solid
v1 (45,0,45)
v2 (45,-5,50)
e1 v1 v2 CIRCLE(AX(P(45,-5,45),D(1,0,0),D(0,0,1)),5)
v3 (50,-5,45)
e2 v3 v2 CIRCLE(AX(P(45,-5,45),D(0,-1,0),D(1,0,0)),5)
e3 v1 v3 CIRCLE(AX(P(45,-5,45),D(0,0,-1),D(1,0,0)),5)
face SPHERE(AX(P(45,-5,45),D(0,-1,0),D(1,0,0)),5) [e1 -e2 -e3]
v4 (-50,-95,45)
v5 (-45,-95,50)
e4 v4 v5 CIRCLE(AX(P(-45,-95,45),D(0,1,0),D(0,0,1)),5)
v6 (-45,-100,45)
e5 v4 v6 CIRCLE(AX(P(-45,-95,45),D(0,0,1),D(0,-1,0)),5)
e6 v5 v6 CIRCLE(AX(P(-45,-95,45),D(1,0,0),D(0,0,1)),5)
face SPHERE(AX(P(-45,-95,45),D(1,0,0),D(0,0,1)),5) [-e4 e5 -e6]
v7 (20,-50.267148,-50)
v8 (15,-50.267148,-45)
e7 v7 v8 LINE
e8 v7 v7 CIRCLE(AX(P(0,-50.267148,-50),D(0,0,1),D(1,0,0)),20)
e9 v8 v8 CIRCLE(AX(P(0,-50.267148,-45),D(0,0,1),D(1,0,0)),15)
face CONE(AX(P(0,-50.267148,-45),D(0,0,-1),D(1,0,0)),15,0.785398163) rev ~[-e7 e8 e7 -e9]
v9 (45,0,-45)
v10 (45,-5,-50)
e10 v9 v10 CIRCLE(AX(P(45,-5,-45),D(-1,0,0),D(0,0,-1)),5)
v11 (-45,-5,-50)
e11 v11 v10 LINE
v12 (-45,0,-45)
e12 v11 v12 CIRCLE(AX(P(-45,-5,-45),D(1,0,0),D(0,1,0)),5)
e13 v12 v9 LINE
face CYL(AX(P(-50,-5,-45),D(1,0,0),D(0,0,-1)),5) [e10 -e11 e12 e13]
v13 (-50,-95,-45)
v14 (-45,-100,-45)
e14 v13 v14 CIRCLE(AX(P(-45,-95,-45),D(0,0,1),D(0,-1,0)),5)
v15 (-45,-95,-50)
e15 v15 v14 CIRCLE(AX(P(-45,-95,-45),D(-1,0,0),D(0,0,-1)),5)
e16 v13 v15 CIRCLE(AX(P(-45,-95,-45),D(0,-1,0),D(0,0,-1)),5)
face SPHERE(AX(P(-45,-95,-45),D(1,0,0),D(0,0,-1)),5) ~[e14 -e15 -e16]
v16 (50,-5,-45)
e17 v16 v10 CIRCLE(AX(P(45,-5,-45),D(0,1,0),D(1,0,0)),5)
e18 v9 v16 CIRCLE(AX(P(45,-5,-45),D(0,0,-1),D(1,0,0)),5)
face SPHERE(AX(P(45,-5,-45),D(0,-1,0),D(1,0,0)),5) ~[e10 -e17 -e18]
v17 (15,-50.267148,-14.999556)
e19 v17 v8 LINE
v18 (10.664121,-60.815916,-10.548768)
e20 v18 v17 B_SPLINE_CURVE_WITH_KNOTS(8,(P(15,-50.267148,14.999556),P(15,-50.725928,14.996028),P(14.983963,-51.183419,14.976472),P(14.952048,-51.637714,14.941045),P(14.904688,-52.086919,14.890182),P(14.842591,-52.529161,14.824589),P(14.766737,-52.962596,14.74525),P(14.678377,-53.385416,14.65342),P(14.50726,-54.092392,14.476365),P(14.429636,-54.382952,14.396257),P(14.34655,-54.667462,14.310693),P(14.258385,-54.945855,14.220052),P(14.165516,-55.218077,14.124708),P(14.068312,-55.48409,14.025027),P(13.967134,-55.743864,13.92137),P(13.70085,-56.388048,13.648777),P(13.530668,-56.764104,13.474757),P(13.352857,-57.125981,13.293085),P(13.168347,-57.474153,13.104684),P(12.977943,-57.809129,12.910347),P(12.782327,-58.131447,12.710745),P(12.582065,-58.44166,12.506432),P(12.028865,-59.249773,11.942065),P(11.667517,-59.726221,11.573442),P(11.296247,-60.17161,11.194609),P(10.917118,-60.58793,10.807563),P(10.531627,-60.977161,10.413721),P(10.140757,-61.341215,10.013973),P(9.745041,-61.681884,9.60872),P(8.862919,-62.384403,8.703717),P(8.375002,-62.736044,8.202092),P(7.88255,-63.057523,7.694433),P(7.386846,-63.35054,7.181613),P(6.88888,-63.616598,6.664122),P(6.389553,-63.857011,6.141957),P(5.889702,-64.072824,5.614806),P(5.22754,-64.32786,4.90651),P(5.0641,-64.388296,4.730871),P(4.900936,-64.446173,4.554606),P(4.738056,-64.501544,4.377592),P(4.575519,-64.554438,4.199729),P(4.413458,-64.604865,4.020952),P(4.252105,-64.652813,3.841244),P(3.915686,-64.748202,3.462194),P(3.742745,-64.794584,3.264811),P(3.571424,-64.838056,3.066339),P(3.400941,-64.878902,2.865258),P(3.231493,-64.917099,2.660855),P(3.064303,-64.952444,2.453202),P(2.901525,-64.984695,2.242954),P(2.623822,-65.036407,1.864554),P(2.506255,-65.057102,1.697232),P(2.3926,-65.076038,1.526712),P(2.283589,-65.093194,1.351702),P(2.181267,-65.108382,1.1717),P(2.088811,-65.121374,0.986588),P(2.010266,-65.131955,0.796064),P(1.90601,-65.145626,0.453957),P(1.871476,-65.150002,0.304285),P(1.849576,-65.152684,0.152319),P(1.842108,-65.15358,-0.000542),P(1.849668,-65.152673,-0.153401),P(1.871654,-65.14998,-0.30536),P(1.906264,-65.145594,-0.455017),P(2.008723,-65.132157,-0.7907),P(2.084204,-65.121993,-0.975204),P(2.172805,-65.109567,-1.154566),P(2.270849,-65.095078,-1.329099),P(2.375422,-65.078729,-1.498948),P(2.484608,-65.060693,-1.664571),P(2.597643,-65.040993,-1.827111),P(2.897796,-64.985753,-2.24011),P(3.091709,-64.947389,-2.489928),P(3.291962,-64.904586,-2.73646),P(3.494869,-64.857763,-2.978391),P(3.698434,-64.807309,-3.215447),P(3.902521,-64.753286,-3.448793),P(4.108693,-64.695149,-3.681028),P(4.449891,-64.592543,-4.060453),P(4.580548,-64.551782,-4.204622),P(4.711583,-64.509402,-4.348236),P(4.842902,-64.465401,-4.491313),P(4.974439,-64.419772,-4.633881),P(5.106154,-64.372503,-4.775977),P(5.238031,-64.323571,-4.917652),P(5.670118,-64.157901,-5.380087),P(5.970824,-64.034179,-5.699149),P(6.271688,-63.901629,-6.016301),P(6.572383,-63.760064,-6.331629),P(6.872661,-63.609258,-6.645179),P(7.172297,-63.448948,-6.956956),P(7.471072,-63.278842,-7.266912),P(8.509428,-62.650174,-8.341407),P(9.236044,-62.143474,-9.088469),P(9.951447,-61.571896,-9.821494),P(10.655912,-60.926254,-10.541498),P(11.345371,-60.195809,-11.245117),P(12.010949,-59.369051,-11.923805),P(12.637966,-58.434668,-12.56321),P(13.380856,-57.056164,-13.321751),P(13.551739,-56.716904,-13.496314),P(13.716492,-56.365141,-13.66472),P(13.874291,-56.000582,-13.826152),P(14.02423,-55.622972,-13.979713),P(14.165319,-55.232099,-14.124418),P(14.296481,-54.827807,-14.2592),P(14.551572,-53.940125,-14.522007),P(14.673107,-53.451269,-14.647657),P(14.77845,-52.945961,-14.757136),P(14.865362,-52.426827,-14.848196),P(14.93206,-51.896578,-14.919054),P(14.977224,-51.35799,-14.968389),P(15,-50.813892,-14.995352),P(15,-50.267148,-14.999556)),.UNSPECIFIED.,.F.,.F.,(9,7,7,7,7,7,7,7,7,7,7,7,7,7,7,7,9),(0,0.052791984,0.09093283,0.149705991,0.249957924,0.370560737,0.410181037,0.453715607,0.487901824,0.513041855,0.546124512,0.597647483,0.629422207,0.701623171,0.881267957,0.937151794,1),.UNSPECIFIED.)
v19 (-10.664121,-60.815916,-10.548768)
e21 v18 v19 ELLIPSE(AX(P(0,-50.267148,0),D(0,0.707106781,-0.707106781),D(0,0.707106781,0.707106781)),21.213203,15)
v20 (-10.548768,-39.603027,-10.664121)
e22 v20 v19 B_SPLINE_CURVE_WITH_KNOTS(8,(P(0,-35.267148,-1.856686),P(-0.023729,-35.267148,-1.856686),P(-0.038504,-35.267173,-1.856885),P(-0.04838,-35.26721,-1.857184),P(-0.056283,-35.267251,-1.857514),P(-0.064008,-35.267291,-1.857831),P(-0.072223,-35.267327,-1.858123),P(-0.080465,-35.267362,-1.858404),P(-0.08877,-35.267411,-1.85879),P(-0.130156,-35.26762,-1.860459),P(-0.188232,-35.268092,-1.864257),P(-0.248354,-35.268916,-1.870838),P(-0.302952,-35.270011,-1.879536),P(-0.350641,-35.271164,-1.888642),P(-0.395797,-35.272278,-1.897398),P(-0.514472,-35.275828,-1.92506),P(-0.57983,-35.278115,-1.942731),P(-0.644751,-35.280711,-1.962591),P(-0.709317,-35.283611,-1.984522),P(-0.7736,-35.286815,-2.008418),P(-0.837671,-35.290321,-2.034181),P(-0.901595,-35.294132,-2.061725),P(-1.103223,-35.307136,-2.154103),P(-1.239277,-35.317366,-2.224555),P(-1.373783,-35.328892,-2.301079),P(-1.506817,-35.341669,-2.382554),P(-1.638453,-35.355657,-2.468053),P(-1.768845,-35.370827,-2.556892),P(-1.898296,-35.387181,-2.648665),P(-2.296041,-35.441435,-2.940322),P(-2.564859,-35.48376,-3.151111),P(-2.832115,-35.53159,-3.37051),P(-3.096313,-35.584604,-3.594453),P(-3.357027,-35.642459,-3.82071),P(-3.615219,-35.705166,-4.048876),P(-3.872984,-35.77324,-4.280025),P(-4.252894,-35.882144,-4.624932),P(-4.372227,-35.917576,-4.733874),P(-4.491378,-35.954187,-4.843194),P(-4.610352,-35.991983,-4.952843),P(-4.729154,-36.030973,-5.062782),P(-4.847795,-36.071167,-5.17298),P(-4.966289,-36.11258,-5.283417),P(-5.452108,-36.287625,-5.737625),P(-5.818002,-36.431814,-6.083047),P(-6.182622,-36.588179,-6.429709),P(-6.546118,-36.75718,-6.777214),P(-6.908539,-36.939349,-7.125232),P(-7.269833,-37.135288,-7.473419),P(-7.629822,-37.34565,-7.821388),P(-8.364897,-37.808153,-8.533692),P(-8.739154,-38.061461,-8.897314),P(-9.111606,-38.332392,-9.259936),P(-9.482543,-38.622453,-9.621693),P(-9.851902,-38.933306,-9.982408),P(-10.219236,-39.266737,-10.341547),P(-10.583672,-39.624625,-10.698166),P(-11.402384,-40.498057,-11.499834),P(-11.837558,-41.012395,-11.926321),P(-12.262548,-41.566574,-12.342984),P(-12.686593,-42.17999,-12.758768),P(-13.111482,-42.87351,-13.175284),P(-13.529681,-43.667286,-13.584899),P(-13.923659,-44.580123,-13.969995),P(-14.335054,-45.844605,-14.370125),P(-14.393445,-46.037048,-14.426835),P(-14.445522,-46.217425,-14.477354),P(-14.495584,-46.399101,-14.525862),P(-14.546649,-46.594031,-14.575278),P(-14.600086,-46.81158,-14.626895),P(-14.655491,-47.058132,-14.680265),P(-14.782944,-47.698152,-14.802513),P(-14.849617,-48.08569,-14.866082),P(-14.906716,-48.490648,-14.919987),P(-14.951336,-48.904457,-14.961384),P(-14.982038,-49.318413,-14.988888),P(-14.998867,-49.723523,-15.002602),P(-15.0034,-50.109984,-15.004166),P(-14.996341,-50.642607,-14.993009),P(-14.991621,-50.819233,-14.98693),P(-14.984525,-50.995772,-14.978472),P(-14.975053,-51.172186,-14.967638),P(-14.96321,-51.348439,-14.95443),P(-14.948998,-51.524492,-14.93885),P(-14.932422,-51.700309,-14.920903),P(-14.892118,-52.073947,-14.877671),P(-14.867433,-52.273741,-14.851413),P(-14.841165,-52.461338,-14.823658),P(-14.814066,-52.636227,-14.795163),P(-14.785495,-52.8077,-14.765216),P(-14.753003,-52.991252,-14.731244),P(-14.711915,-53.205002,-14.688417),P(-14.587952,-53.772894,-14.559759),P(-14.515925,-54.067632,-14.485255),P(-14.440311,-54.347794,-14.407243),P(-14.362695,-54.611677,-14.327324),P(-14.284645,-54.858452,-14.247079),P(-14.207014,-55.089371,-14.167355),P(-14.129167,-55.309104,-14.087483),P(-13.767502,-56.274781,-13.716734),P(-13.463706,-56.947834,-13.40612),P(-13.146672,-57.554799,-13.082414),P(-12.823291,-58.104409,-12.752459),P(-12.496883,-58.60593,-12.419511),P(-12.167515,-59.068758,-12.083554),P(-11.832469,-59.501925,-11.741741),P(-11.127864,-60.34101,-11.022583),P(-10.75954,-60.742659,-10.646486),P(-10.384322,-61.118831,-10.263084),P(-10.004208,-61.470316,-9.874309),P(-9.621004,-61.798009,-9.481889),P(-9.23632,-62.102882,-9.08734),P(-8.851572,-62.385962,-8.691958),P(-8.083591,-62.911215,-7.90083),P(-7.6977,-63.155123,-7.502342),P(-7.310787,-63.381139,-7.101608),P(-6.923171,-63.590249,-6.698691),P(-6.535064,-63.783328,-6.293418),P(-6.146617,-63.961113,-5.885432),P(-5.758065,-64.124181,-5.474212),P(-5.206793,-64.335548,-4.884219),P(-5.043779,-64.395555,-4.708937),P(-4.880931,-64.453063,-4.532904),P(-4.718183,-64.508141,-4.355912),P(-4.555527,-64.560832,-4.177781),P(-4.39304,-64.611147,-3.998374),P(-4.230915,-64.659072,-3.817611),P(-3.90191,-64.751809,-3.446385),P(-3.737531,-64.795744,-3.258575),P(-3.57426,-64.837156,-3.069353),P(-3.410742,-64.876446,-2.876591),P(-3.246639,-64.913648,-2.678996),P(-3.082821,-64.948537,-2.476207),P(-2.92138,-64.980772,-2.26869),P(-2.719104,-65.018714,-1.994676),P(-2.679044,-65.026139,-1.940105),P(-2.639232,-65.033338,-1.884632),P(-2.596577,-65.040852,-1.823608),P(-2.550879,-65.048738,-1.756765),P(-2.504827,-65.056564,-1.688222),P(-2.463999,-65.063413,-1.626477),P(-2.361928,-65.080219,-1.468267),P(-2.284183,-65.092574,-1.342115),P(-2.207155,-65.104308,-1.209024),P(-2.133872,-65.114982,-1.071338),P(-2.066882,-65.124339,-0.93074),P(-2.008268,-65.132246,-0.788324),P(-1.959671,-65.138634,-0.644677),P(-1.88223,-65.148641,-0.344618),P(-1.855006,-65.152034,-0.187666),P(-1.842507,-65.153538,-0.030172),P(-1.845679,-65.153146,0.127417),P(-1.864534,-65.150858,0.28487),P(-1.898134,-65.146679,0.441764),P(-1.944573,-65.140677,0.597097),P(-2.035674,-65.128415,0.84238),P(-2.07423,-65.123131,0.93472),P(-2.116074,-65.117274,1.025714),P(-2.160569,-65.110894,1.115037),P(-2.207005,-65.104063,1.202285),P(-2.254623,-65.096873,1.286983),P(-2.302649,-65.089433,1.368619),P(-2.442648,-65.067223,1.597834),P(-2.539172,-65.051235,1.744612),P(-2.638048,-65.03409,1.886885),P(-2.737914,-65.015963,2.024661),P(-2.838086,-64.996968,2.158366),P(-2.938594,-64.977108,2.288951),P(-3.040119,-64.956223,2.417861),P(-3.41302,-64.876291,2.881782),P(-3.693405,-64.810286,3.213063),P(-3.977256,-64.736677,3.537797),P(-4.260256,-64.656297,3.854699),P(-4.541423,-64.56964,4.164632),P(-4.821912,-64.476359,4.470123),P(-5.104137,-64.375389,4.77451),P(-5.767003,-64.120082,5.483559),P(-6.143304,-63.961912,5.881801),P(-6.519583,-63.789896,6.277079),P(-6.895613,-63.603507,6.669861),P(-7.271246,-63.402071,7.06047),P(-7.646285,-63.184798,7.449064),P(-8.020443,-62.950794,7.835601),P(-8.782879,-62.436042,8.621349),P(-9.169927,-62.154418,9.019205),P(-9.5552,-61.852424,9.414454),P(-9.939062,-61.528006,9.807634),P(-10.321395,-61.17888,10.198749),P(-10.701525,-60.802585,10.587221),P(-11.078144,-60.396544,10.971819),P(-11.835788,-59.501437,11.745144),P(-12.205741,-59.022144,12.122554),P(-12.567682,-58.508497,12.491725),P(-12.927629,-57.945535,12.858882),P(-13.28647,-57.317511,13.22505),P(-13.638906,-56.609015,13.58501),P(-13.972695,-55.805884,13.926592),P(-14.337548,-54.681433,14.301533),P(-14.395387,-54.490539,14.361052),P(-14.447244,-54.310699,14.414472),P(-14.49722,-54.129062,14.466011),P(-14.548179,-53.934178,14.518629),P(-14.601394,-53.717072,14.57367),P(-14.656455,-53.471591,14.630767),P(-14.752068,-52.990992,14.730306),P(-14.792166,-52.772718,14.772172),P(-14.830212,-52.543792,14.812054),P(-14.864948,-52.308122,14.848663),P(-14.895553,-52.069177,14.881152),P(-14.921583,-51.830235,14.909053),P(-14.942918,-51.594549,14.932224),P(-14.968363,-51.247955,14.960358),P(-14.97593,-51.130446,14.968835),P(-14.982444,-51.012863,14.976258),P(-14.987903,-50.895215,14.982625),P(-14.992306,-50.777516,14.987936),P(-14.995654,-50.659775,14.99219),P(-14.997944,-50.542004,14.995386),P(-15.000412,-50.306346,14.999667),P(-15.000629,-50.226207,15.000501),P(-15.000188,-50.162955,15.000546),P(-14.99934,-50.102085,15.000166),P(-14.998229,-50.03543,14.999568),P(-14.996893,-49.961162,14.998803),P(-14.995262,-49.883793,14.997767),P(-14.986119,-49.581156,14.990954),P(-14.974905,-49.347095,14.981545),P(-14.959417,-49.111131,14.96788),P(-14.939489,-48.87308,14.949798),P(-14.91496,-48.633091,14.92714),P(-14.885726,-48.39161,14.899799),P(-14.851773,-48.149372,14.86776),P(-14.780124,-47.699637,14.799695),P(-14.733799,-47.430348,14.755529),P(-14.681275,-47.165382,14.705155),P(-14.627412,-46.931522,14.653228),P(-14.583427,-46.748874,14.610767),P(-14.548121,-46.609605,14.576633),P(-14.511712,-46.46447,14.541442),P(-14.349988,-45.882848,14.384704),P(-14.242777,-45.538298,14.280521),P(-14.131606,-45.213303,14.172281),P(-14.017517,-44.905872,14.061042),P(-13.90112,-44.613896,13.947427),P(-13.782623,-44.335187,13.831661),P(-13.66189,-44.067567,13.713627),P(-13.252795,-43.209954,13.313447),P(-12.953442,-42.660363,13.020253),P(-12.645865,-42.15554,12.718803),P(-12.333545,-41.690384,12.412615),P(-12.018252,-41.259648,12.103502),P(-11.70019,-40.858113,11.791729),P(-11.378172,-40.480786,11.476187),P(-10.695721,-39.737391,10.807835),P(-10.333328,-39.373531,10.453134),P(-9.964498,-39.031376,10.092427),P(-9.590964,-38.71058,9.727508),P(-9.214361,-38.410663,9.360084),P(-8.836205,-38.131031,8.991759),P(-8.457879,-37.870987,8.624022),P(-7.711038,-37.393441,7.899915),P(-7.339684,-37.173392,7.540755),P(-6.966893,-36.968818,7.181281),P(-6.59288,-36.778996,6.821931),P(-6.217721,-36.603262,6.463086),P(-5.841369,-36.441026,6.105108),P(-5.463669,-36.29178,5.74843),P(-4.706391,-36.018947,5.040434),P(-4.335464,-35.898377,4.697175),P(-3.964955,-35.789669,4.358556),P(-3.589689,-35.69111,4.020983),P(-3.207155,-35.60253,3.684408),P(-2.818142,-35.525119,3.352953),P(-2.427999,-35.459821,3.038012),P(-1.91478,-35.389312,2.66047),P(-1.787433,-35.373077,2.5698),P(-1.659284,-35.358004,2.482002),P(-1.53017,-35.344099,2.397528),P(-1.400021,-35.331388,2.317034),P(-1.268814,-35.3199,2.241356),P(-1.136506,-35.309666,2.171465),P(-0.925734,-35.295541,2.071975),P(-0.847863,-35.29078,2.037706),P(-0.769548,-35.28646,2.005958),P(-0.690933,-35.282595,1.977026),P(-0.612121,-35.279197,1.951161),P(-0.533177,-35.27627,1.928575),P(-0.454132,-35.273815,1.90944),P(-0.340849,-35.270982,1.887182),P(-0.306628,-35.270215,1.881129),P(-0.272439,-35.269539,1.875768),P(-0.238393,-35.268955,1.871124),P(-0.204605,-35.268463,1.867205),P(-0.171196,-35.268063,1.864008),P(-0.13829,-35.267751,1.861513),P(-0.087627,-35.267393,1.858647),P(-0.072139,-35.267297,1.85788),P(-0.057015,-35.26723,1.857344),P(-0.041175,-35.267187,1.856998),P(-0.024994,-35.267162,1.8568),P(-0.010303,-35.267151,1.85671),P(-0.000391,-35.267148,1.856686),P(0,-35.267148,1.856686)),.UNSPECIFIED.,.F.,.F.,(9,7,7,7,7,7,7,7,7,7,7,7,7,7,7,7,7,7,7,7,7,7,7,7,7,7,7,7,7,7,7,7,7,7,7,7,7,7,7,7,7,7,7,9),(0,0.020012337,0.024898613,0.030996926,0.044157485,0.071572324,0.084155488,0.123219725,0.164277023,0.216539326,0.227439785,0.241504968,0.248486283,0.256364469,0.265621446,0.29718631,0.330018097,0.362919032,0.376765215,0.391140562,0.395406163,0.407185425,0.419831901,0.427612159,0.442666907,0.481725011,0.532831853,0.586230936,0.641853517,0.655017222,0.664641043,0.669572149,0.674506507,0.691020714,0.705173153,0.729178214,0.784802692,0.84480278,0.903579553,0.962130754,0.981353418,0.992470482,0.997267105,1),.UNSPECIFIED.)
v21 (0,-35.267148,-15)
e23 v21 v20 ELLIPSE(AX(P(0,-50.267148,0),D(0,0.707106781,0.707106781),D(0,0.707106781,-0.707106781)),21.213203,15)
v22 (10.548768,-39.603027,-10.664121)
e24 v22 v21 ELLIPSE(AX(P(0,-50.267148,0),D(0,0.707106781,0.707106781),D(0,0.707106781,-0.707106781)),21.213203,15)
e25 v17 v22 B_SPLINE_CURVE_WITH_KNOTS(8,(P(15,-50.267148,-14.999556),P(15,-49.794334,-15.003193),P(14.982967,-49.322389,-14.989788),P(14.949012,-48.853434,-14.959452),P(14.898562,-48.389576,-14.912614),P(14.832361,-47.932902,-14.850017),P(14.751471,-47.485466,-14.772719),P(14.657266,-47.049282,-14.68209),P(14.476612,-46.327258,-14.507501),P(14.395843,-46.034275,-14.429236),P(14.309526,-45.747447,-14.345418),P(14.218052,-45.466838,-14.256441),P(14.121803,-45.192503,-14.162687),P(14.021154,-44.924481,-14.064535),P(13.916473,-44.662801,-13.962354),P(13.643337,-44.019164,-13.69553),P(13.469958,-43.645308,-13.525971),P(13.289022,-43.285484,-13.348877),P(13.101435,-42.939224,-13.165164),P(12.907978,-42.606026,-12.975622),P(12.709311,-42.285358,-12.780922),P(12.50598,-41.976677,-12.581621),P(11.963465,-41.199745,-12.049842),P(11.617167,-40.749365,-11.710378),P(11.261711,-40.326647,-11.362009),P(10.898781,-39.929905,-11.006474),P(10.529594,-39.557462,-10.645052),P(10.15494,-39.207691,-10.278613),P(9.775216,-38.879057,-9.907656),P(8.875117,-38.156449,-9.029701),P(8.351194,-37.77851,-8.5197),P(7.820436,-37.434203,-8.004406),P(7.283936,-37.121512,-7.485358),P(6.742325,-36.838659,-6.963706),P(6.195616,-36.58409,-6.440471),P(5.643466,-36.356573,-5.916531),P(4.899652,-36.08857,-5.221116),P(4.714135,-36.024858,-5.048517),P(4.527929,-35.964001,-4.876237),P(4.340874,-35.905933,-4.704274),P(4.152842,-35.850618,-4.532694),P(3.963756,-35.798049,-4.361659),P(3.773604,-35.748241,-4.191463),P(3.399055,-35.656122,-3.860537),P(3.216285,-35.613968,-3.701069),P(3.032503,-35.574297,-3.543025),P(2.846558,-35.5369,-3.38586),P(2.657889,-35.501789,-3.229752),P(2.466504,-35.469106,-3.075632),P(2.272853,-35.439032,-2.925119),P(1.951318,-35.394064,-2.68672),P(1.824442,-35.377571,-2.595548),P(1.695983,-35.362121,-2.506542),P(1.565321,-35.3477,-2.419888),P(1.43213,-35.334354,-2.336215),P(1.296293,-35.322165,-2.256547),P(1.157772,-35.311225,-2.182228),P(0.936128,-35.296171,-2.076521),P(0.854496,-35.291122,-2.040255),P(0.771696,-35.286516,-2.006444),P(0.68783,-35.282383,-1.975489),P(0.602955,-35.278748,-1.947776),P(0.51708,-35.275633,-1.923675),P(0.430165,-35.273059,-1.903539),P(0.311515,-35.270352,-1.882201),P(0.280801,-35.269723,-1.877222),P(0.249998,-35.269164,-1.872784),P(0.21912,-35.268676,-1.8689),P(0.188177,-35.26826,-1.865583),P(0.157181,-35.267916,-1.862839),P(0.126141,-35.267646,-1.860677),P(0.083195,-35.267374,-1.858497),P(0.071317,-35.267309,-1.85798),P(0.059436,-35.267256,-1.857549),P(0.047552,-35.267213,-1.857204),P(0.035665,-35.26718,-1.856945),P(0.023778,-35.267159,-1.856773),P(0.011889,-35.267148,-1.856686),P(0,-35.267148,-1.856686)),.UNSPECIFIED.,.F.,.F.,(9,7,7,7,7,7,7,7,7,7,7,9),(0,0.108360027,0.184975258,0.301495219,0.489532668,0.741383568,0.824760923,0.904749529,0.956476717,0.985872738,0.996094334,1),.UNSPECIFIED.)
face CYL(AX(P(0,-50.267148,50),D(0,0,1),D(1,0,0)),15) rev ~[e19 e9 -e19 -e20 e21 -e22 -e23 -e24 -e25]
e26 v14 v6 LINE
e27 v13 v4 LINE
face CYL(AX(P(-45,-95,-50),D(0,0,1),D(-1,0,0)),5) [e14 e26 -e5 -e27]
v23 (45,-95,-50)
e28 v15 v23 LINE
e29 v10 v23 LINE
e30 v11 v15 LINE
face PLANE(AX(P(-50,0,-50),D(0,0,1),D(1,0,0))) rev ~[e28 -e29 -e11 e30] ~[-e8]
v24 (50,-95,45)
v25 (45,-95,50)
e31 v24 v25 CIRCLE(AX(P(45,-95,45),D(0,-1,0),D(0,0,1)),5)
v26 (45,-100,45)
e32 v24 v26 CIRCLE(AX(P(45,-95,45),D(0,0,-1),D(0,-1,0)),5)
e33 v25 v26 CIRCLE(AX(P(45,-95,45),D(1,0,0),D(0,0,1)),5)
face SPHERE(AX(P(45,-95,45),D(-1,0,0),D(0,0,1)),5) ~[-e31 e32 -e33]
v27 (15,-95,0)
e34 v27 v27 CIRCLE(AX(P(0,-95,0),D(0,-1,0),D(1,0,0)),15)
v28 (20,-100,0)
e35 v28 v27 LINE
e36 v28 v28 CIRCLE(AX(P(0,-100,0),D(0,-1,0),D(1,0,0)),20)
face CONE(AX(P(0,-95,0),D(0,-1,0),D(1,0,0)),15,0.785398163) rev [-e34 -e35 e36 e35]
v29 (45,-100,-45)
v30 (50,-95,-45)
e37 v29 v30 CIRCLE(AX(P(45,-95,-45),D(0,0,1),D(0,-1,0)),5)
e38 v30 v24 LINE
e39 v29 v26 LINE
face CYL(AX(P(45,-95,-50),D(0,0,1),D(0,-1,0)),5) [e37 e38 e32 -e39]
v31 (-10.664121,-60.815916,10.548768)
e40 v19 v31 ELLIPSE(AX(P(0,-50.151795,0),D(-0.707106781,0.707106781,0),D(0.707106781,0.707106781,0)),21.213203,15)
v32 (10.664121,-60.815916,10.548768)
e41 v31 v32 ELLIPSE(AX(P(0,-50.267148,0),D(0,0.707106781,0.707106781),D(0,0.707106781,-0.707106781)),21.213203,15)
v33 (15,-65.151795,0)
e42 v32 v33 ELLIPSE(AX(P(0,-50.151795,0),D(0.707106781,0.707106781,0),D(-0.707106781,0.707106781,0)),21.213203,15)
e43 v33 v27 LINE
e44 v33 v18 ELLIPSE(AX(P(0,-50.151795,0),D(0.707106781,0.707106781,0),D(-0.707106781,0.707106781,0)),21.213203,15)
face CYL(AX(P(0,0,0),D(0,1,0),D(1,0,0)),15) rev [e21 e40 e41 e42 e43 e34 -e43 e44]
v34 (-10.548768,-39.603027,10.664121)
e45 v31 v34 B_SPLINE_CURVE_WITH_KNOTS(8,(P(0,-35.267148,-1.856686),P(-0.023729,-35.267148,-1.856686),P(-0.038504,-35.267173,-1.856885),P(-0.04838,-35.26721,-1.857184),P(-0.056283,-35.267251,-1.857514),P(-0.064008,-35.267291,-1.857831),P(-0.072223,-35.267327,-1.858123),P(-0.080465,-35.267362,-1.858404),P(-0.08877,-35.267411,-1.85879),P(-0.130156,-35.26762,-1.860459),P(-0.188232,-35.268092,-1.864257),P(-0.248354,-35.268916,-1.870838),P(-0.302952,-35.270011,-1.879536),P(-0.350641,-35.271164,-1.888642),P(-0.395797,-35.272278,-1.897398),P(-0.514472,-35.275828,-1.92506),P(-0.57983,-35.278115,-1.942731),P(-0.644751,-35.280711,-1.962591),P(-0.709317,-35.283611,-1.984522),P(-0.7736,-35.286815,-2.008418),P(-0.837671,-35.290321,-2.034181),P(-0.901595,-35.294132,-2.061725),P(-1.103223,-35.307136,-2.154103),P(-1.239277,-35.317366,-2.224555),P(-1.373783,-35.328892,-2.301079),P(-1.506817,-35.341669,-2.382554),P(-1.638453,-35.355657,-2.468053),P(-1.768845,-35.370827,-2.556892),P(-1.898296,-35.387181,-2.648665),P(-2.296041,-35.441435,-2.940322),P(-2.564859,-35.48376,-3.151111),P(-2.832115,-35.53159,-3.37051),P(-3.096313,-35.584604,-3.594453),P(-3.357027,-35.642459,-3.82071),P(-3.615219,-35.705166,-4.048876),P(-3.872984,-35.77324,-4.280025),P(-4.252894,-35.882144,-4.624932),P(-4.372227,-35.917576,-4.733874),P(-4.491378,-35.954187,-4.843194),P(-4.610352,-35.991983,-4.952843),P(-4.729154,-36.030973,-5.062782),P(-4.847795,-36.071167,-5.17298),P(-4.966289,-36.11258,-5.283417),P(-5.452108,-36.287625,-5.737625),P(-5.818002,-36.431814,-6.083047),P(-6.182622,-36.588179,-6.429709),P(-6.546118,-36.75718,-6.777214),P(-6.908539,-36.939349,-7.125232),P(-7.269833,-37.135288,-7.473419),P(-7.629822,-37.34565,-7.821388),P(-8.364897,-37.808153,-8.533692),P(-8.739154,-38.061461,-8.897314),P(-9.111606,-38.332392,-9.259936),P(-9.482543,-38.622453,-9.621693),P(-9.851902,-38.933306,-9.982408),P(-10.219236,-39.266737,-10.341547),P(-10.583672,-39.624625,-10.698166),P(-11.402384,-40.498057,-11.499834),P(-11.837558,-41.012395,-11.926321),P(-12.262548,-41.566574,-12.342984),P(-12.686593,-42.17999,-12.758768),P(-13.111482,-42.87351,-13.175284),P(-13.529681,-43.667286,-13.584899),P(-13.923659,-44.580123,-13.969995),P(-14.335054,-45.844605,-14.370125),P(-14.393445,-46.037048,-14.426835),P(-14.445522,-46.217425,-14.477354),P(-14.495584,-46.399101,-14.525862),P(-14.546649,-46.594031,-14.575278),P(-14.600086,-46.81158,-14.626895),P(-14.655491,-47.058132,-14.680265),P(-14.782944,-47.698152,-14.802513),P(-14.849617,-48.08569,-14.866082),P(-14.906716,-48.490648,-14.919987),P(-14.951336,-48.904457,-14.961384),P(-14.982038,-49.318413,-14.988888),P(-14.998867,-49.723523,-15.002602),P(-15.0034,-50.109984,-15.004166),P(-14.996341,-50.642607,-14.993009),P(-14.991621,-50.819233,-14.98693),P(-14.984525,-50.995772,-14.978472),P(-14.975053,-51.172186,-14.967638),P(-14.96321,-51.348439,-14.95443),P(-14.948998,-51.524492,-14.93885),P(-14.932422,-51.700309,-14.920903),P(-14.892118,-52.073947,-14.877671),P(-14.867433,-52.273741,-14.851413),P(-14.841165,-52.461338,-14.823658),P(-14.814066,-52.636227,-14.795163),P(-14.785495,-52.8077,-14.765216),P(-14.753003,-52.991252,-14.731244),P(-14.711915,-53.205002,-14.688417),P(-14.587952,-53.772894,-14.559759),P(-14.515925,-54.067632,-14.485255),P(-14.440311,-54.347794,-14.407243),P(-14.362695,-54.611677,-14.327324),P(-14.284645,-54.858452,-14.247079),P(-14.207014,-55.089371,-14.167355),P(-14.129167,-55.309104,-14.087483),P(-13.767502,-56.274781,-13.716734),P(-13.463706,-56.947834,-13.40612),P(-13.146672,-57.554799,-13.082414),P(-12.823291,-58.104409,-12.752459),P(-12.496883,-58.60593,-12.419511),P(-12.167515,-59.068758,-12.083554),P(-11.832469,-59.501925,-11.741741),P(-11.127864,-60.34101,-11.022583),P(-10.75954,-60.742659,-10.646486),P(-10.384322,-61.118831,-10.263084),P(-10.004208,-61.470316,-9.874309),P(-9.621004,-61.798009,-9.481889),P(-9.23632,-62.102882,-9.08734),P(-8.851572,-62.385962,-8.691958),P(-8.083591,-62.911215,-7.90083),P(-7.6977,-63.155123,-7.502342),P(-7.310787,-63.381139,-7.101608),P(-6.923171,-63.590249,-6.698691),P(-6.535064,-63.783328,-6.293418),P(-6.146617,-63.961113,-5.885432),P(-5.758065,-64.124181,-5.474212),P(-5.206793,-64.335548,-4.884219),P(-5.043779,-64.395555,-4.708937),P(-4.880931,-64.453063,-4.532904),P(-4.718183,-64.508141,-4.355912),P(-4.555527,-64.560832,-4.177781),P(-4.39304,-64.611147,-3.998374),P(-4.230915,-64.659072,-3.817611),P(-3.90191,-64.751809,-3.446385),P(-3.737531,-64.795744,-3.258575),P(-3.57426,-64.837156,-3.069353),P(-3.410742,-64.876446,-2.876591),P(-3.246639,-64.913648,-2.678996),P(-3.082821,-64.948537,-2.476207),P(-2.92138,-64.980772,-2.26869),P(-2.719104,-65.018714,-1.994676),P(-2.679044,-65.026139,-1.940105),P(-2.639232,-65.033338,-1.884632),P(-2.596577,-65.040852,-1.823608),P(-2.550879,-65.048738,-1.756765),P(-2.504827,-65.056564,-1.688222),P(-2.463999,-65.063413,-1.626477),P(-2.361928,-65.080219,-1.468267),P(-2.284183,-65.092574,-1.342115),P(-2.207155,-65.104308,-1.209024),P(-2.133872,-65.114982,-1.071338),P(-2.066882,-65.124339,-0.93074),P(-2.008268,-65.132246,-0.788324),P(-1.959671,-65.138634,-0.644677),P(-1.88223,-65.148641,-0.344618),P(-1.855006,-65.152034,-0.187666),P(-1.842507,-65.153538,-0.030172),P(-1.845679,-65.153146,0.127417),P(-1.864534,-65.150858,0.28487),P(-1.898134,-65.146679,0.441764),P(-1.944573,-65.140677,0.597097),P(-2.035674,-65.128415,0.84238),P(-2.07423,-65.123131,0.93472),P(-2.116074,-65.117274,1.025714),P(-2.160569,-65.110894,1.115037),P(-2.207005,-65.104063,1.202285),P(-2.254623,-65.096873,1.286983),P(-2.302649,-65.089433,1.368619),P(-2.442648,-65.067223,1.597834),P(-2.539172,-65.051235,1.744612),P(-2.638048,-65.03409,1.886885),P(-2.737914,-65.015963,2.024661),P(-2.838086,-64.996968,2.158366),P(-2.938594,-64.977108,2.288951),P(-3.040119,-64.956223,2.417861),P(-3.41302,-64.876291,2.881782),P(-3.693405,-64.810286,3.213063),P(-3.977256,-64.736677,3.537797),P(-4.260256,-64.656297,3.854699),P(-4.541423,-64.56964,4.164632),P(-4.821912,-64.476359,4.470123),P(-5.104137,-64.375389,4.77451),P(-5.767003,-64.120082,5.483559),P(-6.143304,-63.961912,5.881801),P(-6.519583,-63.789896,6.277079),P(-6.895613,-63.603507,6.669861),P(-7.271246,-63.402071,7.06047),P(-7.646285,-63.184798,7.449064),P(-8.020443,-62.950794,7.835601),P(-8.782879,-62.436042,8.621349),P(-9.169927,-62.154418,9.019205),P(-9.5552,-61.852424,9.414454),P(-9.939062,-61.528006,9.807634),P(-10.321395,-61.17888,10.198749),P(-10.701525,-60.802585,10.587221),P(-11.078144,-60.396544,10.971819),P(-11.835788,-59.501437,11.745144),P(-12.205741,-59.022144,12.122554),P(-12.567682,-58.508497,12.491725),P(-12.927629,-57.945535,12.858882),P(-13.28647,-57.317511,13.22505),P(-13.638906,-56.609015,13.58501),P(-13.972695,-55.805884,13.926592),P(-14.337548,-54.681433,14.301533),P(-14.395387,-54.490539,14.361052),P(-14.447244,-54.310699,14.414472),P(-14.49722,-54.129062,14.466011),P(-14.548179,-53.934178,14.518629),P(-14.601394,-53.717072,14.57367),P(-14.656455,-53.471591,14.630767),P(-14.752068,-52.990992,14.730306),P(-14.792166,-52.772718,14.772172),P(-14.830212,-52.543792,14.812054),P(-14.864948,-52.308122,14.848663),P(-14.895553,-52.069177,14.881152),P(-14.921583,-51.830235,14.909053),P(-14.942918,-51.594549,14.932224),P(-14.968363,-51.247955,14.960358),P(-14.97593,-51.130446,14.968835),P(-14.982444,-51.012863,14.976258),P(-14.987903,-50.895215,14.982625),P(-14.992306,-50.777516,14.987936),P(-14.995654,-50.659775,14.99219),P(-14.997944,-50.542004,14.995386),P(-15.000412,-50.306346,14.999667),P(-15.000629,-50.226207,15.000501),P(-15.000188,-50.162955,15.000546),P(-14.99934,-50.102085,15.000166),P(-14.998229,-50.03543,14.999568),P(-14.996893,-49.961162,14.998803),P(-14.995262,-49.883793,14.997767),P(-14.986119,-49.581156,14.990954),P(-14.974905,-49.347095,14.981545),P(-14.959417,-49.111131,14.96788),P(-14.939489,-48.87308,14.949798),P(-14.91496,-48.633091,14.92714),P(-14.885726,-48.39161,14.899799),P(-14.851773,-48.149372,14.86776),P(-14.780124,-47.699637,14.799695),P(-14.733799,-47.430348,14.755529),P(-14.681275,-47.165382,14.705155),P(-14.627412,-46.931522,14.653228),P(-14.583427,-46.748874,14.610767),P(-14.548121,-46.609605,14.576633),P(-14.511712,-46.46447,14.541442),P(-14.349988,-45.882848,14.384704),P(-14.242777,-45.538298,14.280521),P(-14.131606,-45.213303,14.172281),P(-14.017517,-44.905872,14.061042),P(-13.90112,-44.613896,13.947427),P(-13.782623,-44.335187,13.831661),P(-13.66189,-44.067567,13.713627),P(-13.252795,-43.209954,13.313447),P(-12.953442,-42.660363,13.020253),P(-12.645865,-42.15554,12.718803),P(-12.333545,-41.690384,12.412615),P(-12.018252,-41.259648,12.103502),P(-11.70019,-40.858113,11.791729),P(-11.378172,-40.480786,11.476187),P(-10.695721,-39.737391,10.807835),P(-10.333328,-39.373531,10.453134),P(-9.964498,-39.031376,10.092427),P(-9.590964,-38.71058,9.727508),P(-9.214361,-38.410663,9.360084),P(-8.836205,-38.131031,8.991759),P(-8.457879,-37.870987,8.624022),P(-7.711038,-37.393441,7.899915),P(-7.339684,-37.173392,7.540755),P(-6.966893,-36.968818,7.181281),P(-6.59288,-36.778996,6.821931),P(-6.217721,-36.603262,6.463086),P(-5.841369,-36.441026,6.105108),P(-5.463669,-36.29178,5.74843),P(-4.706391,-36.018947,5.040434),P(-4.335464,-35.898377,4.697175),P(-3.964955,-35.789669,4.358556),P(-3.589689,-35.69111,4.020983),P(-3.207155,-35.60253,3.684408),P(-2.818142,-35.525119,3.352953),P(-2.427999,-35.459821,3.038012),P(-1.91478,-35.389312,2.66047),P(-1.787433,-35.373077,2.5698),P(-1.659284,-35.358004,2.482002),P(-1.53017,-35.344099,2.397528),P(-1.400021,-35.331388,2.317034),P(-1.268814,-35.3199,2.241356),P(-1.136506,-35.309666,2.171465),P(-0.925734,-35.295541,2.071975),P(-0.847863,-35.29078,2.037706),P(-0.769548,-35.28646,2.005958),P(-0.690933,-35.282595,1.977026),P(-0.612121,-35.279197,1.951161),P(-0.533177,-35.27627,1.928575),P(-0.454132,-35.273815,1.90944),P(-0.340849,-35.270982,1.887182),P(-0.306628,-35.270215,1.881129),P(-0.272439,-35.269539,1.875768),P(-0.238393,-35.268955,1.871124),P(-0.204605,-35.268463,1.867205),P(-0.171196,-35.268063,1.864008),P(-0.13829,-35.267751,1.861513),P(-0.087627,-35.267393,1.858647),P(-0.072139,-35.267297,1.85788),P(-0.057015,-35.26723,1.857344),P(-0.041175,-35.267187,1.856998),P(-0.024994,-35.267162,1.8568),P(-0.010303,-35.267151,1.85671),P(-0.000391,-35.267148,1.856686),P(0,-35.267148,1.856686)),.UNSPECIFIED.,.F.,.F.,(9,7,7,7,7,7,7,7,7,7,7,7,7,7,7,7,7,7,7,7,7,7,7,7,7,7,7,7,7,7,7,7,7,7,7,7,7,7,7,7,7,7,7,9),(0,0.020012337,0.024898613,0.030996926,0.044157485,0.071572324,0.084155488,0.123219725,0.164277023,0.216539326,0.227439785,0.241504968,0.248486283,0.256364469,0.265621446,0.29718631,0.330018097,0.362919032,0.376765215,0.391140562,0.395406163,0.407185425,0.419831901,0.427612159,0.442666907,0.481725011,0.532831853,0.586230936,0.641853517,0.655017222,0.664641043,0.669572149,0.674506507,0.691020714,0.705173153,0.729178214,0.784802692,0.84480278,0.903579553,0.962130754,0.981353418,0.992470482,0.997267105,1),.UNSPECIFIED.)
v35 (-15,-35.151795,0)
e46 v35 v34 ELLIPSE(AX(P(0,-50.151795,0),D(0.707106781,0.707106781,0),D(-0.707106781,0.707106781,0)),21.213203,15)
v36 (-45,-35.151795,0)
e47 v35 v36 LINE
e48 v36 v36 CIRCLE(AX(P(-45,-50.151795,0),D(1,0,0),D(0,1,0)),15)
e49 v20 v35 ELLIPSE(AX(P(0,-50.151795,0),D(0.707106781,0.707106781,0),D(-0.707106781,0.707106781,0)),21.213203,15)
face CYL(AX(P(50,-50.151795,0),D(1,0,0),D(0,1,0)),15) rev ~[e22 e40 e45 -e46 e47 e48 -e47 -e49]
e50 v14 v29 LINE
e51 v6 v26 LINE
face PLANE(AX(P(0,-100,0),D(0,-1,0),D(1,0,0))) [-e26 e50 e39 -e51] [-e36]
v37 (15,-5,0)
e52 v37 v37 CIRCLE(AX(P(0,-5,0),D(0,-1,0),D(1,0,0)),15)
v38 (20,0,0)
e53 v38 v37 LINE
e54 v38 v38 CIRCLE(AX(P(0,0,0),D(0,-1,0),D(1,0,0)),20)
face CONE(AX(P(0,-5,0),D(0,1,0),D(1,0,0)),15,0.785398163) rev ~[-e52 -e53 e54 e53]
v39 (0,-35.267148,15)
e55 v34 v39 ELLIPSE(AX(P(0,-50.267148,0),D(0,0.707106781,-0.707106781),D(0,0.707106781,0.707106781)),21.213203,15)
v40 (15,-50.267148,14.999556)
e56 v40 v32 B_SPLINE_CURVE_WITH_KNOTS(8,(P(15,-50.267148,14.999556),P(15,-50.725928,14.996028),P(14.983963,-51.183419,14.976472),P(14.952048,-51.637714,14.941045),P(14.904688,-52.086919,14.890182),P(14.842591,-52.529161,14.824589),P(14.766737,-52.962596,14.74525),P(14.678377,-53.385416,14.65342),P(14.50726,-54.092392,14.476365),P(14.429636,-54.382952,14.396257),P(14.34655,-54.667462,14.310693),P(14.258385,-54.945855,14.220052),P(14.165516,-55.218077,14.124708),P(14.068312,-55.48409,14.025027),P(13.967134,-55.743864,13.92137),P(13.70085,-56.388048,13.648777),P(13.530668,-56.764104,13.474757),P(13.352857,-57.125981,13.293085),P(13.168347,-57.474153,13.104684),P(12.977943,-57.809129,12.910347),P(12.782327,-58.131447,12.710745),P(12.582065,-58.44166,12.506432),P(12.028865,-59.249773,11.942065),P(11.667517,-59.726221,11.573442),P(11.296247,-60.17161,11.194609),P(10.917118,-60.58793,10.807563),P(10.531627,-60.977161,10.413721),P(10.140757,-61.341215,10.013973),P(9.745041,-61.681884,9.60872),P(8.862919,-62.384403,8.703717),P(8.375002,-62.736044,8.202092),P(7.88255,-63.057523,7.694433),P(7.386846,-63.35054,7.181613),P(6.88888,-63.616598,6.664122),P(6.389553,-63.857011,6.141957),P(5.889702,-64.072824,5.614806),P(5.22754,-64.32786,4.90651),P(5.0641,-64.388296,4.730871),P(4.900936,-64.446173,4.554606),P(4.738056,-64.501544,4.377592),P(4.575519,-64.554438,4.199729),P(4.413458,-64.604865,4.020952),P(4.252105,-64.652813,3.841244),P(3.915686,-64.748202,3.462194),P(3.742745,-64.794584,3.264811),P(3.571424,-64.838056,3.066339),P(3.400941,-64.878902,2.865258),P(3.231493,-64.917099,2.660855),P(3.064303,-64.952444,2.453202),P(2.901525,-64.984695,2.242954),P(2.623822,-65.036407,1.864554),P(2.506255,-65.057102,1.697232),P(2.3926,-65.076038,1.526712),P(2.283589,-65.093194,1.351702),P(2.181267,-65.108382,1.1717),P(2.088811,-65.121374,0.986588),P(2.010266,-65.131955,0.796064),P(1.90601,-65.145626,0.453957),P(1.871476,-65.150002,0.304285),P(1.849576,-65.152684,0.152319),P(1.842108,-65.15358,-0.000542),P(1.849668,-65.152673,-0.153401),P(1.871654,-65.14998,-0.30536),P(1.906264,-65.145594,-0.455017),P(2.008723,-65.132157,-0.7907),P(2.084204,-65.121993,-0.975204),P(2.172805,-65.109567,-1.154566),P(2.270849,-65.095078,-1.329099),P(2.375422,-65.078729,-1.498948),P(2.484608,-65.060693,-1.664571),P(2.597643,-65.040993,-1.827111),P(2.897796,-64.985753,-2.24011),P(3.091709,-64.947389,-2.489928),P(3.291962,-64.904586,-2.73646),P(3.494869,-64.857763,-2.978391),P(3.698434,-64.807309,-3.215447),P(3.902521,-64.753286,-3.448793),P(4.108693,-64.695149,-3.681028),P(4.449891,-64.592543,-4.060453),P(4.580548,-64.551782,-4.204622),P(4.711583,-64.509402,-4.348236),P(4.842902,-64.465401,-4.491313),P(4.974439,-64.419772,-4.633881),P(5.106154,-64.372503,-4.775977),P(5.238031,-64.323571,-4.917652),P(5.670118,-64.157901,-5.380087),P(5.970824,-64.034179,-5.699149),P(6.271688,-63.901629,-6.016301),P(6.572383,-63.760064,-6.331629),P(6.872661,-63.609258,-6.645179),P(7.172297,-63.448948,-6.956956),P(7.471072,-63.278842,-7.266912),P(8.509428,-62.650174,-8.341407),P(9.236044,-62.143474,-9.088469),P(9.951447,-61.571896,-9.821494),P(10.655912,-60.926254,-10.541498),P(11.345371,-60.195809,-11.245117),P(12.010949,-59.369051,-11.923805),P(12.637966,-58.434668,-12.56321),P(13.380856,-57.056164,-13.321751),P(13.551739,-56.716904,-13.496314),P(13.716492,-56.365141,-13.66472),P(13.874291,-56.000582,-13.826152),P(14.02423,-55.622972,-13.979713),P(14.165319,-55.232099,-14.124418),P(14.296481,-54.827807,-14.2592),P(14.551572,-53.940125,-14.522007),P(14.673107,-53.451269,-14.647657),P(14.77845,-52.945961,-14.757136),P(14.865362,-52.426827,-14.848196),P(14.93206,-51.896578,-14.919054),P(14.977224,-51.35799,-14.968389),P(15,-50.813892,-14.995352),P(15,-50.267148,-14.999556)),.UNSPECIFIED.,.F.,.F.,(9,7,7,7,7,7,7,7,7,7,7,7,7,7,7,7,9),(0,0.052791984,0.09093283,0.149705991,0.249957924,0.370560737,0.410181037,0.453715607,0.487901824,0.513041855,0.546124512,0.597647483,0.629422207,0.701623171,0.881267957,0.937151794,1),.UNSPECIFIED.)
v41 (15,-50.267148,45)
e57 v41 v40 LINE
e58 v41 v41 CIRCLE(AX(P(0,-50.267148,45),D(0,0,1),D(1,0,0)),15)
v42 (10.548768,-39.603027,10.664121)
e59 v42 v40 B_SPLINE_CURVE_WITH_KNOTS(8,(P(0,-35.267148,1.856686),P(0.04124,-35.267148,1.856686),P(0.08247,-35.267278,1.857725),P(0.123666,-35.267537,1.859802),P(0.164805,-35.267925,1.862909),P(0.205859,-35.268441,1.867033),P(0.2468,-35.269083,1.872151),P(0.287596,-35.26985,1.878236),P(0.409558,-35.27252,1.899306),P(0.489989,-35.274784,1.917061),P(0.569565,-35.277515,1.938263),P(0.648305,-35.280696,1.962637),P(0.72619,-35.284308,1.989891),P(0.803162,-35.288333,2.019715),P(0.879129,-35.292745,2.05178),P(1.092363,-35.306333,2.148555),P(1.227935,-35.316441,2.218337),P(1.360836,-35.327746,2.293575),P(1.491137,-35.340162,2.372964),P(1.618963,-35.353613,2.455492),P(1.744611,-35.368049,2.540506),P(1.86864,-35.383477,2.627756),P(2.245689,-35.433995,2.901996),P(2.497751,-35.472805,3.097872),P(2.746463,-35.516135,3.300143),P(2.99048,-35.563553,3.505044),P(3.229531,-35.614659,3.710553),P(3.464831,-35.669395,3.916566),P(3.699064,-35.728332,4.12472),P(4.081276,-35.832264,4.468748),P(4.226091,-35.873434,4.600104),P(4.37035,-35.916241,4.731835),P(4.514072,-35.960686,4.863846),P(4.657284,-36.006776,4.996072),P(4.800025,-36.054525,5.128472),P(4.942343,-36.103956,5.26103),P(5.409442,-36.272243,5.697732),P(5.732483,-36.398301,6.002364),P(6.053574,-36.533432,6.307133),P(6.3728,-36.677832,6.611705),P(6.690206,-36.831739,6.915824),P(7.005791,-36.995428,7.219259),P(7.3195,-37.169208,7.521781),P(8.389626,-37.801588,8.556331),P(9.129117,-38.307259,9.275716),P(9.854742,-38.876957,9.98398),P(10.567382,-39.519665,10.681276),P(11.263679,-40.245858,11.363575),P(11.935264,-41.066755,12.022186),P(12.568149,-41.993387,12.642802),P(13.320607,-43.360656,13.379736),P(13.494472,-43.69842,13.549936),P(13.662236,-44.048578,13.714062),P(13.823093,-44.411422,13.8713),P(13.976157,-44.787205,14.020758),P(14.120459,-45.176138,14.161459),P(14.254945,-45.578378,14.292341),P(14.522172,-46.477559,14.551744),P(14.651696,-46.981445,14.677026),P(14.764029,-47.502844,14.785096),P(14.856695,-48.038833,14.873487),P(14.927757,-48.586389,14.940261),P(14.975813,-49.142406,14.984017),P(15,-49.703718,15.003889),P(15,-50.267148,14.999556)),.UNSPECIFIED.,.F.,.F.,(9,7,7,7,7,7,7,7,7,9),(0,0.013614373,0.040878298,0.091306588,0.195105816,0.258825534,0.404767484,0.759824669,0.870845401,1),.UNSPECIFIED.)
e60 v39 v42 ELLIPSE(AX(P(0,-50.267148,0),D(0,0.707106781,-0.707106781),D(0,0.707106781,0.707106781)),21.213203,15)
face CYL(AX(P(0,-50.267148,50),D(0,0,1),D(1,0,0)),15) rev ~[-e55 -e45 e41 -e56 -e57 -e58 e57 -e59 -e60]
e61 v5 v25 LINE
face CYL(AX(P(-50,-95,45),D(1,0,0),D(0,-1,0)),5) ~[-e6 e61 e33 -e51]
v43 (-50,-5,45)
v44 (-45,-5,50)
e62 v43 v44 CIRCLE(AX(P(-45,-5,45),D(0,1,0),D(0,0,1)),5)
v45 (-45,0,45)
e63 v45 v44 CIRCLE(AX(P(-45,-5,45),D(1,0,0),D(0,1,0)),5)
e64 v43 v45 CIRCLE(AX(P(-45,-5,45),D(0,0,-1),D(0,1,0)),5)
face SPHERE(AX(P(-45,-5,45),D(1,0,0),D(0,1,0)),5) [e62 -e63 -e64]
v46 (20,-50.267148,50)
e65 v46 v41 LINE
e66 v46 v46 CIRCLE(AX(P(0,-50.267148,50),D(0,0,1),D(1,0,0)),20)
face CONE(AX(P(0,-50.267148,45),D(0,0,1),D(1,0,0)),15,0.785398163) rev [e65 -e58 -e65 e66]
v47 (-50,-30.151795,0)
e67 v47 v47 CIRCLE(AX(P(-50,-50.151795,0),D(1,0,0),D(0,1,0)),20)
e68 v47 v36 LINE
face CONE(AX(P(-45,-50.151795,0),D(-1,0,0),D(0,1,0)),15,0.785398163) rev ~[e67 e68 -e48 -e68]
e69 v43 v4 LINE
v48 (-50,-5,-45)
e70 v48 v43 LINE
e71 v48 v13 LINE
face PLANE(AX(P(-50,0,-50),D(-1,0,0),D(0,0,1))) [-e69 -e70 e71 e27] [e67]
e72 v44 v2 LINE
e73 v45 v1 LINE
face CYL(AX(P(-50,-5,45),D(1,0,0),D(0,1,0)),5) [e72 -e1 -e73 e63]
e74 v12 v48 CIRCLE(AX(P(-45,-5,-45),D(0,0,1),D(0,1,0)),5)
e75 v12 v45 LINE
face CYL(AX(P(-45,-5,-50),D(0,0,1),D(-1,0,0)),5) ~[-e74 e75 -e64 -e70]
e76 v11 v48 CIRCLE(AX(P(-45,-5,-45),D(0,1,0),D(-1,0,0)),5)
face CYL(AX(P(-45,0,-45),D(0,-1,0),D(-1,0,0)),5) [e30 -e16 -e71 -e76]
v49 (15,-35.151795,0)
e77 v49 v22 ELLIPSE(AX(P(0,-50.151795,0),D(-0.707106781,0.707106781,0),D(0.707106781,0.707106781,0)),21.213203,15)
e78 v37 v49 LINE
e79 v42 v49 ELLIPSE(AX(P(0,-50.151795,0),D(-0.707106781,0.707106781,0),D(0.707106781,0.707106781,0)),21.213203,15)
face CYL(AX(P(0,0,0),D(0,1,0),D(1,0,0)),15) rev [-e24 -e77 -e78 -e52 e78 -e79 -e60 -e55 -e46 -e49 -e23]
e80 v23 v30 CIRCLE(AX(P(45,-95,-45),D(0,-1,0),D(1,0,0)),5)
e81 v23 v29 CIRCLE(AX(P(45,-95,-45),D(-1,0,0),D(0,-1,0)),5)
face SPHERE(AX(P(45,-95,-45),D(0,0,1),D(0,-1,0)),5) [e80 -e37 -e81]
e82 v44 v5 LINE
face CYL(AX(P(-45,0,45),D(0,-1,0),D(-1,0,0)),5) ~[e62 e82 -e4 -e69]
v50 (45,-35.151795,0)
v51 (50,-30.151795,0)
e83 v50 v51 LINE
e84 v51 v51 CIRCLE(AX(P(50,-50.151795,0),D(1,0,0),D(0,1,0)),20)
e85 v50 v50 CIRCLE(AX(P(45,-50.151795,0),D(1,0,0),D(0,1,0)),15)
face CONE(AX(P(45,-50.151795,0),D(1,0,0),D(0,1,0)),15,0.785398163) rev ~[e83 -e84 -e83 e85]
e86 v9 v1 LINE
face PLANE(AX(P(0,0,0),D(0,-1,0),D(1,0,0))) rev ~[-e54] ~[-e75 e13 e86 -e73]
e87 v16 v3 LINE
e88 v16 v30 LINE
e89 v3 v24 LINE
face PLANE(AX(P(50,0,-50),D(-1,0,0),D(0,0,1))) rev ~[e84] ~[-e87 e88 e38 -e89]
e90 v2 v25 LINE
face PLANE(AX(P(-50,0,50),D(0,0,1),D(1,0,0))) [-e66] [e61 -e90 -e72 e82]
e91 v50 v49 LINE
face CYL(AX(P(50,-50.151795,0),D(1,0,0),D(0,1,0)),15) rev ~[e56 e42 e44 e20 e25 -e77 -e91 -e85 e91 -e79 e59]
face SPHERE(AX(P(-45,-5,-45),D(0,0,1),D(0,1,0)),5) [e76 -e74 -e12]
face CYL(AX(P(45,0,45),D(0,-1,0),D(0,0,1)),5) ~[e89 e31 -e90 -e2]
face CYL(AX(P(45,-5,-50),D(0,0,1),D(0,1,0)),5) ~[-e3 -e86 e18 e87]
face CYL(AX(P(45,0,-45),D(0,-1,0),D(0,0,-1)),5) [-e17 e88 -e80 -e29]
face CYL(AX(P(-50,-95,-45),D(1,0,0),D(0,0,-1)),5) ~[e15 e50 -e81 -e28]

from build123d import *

# Parameters (mm, degrees)
F0_W     = 100
F0_H     = 100
F0_R     = 15
F1_DEPTH = 100
F2_R     = 15
F3_DEPTH = 100
F4_R     = 15
F5_DEPTH = 100
F6_R     = 5
F7_SIZE  = 5


with BuildPart() as f1:
    # F0 (on Front) → F1 (new body)
    with BuildSketch(Plane.XZ):
        Rectangle(F0_W, F0_H)
        Circle(F0_R, mode=Mode.SUBTRACT)
    extrude(amount=F1_DEPTH)

    # F2 (on face) → F3 (cut)
    with BuildSketch(Plane.YZ.offset(50)):
        with Locations((-50.151795, 0)):
            Circle(F2_R)
    extrude(amount=-F3_DEPTH, mode=Mode.SUBTRACT)

    # F4 (on face) → F5 (cut)
    with BuildSketch(Plane.XY.offset(50)):
        with Locations((0, -50.267148)):
            Circle(F4_R)
    extrude(amount=-F5_DEPTH, mode=Mode.SUBTRACT)

    # F6
    f6_edges = [f1.edges().sort_by_distance(p)[0] for p in [
        (0, -100, 50),
        (50, -50, 50),
        (50, -100, 0),
        (0, -100, -50),
        (50, -50, -50),
        (50, 0, 0),
        (0, 0, 50),
        (-50, 0, 0),
        (0, 0, -50),
        (-50, -50, -50),
        (-50, -50, 50),
        (-50, -100, 0),
    ]]
    fillet(f6_edges, radius=F6_R)

    # F7
    f7_edges = [f1.edges().sort_by_distance(p)[0] for p in [
        (-15, -100, 0),
        (-15, -50.267148, 50),
        (50, -65.151795, 0),
        (-15, 0, 0),
        (-15, -50.267148, -50),
        (-50, -65.151795, 0),
    ]]
    chamfer(f7_edges, length=F7_SIZE)


solid = f1.part
